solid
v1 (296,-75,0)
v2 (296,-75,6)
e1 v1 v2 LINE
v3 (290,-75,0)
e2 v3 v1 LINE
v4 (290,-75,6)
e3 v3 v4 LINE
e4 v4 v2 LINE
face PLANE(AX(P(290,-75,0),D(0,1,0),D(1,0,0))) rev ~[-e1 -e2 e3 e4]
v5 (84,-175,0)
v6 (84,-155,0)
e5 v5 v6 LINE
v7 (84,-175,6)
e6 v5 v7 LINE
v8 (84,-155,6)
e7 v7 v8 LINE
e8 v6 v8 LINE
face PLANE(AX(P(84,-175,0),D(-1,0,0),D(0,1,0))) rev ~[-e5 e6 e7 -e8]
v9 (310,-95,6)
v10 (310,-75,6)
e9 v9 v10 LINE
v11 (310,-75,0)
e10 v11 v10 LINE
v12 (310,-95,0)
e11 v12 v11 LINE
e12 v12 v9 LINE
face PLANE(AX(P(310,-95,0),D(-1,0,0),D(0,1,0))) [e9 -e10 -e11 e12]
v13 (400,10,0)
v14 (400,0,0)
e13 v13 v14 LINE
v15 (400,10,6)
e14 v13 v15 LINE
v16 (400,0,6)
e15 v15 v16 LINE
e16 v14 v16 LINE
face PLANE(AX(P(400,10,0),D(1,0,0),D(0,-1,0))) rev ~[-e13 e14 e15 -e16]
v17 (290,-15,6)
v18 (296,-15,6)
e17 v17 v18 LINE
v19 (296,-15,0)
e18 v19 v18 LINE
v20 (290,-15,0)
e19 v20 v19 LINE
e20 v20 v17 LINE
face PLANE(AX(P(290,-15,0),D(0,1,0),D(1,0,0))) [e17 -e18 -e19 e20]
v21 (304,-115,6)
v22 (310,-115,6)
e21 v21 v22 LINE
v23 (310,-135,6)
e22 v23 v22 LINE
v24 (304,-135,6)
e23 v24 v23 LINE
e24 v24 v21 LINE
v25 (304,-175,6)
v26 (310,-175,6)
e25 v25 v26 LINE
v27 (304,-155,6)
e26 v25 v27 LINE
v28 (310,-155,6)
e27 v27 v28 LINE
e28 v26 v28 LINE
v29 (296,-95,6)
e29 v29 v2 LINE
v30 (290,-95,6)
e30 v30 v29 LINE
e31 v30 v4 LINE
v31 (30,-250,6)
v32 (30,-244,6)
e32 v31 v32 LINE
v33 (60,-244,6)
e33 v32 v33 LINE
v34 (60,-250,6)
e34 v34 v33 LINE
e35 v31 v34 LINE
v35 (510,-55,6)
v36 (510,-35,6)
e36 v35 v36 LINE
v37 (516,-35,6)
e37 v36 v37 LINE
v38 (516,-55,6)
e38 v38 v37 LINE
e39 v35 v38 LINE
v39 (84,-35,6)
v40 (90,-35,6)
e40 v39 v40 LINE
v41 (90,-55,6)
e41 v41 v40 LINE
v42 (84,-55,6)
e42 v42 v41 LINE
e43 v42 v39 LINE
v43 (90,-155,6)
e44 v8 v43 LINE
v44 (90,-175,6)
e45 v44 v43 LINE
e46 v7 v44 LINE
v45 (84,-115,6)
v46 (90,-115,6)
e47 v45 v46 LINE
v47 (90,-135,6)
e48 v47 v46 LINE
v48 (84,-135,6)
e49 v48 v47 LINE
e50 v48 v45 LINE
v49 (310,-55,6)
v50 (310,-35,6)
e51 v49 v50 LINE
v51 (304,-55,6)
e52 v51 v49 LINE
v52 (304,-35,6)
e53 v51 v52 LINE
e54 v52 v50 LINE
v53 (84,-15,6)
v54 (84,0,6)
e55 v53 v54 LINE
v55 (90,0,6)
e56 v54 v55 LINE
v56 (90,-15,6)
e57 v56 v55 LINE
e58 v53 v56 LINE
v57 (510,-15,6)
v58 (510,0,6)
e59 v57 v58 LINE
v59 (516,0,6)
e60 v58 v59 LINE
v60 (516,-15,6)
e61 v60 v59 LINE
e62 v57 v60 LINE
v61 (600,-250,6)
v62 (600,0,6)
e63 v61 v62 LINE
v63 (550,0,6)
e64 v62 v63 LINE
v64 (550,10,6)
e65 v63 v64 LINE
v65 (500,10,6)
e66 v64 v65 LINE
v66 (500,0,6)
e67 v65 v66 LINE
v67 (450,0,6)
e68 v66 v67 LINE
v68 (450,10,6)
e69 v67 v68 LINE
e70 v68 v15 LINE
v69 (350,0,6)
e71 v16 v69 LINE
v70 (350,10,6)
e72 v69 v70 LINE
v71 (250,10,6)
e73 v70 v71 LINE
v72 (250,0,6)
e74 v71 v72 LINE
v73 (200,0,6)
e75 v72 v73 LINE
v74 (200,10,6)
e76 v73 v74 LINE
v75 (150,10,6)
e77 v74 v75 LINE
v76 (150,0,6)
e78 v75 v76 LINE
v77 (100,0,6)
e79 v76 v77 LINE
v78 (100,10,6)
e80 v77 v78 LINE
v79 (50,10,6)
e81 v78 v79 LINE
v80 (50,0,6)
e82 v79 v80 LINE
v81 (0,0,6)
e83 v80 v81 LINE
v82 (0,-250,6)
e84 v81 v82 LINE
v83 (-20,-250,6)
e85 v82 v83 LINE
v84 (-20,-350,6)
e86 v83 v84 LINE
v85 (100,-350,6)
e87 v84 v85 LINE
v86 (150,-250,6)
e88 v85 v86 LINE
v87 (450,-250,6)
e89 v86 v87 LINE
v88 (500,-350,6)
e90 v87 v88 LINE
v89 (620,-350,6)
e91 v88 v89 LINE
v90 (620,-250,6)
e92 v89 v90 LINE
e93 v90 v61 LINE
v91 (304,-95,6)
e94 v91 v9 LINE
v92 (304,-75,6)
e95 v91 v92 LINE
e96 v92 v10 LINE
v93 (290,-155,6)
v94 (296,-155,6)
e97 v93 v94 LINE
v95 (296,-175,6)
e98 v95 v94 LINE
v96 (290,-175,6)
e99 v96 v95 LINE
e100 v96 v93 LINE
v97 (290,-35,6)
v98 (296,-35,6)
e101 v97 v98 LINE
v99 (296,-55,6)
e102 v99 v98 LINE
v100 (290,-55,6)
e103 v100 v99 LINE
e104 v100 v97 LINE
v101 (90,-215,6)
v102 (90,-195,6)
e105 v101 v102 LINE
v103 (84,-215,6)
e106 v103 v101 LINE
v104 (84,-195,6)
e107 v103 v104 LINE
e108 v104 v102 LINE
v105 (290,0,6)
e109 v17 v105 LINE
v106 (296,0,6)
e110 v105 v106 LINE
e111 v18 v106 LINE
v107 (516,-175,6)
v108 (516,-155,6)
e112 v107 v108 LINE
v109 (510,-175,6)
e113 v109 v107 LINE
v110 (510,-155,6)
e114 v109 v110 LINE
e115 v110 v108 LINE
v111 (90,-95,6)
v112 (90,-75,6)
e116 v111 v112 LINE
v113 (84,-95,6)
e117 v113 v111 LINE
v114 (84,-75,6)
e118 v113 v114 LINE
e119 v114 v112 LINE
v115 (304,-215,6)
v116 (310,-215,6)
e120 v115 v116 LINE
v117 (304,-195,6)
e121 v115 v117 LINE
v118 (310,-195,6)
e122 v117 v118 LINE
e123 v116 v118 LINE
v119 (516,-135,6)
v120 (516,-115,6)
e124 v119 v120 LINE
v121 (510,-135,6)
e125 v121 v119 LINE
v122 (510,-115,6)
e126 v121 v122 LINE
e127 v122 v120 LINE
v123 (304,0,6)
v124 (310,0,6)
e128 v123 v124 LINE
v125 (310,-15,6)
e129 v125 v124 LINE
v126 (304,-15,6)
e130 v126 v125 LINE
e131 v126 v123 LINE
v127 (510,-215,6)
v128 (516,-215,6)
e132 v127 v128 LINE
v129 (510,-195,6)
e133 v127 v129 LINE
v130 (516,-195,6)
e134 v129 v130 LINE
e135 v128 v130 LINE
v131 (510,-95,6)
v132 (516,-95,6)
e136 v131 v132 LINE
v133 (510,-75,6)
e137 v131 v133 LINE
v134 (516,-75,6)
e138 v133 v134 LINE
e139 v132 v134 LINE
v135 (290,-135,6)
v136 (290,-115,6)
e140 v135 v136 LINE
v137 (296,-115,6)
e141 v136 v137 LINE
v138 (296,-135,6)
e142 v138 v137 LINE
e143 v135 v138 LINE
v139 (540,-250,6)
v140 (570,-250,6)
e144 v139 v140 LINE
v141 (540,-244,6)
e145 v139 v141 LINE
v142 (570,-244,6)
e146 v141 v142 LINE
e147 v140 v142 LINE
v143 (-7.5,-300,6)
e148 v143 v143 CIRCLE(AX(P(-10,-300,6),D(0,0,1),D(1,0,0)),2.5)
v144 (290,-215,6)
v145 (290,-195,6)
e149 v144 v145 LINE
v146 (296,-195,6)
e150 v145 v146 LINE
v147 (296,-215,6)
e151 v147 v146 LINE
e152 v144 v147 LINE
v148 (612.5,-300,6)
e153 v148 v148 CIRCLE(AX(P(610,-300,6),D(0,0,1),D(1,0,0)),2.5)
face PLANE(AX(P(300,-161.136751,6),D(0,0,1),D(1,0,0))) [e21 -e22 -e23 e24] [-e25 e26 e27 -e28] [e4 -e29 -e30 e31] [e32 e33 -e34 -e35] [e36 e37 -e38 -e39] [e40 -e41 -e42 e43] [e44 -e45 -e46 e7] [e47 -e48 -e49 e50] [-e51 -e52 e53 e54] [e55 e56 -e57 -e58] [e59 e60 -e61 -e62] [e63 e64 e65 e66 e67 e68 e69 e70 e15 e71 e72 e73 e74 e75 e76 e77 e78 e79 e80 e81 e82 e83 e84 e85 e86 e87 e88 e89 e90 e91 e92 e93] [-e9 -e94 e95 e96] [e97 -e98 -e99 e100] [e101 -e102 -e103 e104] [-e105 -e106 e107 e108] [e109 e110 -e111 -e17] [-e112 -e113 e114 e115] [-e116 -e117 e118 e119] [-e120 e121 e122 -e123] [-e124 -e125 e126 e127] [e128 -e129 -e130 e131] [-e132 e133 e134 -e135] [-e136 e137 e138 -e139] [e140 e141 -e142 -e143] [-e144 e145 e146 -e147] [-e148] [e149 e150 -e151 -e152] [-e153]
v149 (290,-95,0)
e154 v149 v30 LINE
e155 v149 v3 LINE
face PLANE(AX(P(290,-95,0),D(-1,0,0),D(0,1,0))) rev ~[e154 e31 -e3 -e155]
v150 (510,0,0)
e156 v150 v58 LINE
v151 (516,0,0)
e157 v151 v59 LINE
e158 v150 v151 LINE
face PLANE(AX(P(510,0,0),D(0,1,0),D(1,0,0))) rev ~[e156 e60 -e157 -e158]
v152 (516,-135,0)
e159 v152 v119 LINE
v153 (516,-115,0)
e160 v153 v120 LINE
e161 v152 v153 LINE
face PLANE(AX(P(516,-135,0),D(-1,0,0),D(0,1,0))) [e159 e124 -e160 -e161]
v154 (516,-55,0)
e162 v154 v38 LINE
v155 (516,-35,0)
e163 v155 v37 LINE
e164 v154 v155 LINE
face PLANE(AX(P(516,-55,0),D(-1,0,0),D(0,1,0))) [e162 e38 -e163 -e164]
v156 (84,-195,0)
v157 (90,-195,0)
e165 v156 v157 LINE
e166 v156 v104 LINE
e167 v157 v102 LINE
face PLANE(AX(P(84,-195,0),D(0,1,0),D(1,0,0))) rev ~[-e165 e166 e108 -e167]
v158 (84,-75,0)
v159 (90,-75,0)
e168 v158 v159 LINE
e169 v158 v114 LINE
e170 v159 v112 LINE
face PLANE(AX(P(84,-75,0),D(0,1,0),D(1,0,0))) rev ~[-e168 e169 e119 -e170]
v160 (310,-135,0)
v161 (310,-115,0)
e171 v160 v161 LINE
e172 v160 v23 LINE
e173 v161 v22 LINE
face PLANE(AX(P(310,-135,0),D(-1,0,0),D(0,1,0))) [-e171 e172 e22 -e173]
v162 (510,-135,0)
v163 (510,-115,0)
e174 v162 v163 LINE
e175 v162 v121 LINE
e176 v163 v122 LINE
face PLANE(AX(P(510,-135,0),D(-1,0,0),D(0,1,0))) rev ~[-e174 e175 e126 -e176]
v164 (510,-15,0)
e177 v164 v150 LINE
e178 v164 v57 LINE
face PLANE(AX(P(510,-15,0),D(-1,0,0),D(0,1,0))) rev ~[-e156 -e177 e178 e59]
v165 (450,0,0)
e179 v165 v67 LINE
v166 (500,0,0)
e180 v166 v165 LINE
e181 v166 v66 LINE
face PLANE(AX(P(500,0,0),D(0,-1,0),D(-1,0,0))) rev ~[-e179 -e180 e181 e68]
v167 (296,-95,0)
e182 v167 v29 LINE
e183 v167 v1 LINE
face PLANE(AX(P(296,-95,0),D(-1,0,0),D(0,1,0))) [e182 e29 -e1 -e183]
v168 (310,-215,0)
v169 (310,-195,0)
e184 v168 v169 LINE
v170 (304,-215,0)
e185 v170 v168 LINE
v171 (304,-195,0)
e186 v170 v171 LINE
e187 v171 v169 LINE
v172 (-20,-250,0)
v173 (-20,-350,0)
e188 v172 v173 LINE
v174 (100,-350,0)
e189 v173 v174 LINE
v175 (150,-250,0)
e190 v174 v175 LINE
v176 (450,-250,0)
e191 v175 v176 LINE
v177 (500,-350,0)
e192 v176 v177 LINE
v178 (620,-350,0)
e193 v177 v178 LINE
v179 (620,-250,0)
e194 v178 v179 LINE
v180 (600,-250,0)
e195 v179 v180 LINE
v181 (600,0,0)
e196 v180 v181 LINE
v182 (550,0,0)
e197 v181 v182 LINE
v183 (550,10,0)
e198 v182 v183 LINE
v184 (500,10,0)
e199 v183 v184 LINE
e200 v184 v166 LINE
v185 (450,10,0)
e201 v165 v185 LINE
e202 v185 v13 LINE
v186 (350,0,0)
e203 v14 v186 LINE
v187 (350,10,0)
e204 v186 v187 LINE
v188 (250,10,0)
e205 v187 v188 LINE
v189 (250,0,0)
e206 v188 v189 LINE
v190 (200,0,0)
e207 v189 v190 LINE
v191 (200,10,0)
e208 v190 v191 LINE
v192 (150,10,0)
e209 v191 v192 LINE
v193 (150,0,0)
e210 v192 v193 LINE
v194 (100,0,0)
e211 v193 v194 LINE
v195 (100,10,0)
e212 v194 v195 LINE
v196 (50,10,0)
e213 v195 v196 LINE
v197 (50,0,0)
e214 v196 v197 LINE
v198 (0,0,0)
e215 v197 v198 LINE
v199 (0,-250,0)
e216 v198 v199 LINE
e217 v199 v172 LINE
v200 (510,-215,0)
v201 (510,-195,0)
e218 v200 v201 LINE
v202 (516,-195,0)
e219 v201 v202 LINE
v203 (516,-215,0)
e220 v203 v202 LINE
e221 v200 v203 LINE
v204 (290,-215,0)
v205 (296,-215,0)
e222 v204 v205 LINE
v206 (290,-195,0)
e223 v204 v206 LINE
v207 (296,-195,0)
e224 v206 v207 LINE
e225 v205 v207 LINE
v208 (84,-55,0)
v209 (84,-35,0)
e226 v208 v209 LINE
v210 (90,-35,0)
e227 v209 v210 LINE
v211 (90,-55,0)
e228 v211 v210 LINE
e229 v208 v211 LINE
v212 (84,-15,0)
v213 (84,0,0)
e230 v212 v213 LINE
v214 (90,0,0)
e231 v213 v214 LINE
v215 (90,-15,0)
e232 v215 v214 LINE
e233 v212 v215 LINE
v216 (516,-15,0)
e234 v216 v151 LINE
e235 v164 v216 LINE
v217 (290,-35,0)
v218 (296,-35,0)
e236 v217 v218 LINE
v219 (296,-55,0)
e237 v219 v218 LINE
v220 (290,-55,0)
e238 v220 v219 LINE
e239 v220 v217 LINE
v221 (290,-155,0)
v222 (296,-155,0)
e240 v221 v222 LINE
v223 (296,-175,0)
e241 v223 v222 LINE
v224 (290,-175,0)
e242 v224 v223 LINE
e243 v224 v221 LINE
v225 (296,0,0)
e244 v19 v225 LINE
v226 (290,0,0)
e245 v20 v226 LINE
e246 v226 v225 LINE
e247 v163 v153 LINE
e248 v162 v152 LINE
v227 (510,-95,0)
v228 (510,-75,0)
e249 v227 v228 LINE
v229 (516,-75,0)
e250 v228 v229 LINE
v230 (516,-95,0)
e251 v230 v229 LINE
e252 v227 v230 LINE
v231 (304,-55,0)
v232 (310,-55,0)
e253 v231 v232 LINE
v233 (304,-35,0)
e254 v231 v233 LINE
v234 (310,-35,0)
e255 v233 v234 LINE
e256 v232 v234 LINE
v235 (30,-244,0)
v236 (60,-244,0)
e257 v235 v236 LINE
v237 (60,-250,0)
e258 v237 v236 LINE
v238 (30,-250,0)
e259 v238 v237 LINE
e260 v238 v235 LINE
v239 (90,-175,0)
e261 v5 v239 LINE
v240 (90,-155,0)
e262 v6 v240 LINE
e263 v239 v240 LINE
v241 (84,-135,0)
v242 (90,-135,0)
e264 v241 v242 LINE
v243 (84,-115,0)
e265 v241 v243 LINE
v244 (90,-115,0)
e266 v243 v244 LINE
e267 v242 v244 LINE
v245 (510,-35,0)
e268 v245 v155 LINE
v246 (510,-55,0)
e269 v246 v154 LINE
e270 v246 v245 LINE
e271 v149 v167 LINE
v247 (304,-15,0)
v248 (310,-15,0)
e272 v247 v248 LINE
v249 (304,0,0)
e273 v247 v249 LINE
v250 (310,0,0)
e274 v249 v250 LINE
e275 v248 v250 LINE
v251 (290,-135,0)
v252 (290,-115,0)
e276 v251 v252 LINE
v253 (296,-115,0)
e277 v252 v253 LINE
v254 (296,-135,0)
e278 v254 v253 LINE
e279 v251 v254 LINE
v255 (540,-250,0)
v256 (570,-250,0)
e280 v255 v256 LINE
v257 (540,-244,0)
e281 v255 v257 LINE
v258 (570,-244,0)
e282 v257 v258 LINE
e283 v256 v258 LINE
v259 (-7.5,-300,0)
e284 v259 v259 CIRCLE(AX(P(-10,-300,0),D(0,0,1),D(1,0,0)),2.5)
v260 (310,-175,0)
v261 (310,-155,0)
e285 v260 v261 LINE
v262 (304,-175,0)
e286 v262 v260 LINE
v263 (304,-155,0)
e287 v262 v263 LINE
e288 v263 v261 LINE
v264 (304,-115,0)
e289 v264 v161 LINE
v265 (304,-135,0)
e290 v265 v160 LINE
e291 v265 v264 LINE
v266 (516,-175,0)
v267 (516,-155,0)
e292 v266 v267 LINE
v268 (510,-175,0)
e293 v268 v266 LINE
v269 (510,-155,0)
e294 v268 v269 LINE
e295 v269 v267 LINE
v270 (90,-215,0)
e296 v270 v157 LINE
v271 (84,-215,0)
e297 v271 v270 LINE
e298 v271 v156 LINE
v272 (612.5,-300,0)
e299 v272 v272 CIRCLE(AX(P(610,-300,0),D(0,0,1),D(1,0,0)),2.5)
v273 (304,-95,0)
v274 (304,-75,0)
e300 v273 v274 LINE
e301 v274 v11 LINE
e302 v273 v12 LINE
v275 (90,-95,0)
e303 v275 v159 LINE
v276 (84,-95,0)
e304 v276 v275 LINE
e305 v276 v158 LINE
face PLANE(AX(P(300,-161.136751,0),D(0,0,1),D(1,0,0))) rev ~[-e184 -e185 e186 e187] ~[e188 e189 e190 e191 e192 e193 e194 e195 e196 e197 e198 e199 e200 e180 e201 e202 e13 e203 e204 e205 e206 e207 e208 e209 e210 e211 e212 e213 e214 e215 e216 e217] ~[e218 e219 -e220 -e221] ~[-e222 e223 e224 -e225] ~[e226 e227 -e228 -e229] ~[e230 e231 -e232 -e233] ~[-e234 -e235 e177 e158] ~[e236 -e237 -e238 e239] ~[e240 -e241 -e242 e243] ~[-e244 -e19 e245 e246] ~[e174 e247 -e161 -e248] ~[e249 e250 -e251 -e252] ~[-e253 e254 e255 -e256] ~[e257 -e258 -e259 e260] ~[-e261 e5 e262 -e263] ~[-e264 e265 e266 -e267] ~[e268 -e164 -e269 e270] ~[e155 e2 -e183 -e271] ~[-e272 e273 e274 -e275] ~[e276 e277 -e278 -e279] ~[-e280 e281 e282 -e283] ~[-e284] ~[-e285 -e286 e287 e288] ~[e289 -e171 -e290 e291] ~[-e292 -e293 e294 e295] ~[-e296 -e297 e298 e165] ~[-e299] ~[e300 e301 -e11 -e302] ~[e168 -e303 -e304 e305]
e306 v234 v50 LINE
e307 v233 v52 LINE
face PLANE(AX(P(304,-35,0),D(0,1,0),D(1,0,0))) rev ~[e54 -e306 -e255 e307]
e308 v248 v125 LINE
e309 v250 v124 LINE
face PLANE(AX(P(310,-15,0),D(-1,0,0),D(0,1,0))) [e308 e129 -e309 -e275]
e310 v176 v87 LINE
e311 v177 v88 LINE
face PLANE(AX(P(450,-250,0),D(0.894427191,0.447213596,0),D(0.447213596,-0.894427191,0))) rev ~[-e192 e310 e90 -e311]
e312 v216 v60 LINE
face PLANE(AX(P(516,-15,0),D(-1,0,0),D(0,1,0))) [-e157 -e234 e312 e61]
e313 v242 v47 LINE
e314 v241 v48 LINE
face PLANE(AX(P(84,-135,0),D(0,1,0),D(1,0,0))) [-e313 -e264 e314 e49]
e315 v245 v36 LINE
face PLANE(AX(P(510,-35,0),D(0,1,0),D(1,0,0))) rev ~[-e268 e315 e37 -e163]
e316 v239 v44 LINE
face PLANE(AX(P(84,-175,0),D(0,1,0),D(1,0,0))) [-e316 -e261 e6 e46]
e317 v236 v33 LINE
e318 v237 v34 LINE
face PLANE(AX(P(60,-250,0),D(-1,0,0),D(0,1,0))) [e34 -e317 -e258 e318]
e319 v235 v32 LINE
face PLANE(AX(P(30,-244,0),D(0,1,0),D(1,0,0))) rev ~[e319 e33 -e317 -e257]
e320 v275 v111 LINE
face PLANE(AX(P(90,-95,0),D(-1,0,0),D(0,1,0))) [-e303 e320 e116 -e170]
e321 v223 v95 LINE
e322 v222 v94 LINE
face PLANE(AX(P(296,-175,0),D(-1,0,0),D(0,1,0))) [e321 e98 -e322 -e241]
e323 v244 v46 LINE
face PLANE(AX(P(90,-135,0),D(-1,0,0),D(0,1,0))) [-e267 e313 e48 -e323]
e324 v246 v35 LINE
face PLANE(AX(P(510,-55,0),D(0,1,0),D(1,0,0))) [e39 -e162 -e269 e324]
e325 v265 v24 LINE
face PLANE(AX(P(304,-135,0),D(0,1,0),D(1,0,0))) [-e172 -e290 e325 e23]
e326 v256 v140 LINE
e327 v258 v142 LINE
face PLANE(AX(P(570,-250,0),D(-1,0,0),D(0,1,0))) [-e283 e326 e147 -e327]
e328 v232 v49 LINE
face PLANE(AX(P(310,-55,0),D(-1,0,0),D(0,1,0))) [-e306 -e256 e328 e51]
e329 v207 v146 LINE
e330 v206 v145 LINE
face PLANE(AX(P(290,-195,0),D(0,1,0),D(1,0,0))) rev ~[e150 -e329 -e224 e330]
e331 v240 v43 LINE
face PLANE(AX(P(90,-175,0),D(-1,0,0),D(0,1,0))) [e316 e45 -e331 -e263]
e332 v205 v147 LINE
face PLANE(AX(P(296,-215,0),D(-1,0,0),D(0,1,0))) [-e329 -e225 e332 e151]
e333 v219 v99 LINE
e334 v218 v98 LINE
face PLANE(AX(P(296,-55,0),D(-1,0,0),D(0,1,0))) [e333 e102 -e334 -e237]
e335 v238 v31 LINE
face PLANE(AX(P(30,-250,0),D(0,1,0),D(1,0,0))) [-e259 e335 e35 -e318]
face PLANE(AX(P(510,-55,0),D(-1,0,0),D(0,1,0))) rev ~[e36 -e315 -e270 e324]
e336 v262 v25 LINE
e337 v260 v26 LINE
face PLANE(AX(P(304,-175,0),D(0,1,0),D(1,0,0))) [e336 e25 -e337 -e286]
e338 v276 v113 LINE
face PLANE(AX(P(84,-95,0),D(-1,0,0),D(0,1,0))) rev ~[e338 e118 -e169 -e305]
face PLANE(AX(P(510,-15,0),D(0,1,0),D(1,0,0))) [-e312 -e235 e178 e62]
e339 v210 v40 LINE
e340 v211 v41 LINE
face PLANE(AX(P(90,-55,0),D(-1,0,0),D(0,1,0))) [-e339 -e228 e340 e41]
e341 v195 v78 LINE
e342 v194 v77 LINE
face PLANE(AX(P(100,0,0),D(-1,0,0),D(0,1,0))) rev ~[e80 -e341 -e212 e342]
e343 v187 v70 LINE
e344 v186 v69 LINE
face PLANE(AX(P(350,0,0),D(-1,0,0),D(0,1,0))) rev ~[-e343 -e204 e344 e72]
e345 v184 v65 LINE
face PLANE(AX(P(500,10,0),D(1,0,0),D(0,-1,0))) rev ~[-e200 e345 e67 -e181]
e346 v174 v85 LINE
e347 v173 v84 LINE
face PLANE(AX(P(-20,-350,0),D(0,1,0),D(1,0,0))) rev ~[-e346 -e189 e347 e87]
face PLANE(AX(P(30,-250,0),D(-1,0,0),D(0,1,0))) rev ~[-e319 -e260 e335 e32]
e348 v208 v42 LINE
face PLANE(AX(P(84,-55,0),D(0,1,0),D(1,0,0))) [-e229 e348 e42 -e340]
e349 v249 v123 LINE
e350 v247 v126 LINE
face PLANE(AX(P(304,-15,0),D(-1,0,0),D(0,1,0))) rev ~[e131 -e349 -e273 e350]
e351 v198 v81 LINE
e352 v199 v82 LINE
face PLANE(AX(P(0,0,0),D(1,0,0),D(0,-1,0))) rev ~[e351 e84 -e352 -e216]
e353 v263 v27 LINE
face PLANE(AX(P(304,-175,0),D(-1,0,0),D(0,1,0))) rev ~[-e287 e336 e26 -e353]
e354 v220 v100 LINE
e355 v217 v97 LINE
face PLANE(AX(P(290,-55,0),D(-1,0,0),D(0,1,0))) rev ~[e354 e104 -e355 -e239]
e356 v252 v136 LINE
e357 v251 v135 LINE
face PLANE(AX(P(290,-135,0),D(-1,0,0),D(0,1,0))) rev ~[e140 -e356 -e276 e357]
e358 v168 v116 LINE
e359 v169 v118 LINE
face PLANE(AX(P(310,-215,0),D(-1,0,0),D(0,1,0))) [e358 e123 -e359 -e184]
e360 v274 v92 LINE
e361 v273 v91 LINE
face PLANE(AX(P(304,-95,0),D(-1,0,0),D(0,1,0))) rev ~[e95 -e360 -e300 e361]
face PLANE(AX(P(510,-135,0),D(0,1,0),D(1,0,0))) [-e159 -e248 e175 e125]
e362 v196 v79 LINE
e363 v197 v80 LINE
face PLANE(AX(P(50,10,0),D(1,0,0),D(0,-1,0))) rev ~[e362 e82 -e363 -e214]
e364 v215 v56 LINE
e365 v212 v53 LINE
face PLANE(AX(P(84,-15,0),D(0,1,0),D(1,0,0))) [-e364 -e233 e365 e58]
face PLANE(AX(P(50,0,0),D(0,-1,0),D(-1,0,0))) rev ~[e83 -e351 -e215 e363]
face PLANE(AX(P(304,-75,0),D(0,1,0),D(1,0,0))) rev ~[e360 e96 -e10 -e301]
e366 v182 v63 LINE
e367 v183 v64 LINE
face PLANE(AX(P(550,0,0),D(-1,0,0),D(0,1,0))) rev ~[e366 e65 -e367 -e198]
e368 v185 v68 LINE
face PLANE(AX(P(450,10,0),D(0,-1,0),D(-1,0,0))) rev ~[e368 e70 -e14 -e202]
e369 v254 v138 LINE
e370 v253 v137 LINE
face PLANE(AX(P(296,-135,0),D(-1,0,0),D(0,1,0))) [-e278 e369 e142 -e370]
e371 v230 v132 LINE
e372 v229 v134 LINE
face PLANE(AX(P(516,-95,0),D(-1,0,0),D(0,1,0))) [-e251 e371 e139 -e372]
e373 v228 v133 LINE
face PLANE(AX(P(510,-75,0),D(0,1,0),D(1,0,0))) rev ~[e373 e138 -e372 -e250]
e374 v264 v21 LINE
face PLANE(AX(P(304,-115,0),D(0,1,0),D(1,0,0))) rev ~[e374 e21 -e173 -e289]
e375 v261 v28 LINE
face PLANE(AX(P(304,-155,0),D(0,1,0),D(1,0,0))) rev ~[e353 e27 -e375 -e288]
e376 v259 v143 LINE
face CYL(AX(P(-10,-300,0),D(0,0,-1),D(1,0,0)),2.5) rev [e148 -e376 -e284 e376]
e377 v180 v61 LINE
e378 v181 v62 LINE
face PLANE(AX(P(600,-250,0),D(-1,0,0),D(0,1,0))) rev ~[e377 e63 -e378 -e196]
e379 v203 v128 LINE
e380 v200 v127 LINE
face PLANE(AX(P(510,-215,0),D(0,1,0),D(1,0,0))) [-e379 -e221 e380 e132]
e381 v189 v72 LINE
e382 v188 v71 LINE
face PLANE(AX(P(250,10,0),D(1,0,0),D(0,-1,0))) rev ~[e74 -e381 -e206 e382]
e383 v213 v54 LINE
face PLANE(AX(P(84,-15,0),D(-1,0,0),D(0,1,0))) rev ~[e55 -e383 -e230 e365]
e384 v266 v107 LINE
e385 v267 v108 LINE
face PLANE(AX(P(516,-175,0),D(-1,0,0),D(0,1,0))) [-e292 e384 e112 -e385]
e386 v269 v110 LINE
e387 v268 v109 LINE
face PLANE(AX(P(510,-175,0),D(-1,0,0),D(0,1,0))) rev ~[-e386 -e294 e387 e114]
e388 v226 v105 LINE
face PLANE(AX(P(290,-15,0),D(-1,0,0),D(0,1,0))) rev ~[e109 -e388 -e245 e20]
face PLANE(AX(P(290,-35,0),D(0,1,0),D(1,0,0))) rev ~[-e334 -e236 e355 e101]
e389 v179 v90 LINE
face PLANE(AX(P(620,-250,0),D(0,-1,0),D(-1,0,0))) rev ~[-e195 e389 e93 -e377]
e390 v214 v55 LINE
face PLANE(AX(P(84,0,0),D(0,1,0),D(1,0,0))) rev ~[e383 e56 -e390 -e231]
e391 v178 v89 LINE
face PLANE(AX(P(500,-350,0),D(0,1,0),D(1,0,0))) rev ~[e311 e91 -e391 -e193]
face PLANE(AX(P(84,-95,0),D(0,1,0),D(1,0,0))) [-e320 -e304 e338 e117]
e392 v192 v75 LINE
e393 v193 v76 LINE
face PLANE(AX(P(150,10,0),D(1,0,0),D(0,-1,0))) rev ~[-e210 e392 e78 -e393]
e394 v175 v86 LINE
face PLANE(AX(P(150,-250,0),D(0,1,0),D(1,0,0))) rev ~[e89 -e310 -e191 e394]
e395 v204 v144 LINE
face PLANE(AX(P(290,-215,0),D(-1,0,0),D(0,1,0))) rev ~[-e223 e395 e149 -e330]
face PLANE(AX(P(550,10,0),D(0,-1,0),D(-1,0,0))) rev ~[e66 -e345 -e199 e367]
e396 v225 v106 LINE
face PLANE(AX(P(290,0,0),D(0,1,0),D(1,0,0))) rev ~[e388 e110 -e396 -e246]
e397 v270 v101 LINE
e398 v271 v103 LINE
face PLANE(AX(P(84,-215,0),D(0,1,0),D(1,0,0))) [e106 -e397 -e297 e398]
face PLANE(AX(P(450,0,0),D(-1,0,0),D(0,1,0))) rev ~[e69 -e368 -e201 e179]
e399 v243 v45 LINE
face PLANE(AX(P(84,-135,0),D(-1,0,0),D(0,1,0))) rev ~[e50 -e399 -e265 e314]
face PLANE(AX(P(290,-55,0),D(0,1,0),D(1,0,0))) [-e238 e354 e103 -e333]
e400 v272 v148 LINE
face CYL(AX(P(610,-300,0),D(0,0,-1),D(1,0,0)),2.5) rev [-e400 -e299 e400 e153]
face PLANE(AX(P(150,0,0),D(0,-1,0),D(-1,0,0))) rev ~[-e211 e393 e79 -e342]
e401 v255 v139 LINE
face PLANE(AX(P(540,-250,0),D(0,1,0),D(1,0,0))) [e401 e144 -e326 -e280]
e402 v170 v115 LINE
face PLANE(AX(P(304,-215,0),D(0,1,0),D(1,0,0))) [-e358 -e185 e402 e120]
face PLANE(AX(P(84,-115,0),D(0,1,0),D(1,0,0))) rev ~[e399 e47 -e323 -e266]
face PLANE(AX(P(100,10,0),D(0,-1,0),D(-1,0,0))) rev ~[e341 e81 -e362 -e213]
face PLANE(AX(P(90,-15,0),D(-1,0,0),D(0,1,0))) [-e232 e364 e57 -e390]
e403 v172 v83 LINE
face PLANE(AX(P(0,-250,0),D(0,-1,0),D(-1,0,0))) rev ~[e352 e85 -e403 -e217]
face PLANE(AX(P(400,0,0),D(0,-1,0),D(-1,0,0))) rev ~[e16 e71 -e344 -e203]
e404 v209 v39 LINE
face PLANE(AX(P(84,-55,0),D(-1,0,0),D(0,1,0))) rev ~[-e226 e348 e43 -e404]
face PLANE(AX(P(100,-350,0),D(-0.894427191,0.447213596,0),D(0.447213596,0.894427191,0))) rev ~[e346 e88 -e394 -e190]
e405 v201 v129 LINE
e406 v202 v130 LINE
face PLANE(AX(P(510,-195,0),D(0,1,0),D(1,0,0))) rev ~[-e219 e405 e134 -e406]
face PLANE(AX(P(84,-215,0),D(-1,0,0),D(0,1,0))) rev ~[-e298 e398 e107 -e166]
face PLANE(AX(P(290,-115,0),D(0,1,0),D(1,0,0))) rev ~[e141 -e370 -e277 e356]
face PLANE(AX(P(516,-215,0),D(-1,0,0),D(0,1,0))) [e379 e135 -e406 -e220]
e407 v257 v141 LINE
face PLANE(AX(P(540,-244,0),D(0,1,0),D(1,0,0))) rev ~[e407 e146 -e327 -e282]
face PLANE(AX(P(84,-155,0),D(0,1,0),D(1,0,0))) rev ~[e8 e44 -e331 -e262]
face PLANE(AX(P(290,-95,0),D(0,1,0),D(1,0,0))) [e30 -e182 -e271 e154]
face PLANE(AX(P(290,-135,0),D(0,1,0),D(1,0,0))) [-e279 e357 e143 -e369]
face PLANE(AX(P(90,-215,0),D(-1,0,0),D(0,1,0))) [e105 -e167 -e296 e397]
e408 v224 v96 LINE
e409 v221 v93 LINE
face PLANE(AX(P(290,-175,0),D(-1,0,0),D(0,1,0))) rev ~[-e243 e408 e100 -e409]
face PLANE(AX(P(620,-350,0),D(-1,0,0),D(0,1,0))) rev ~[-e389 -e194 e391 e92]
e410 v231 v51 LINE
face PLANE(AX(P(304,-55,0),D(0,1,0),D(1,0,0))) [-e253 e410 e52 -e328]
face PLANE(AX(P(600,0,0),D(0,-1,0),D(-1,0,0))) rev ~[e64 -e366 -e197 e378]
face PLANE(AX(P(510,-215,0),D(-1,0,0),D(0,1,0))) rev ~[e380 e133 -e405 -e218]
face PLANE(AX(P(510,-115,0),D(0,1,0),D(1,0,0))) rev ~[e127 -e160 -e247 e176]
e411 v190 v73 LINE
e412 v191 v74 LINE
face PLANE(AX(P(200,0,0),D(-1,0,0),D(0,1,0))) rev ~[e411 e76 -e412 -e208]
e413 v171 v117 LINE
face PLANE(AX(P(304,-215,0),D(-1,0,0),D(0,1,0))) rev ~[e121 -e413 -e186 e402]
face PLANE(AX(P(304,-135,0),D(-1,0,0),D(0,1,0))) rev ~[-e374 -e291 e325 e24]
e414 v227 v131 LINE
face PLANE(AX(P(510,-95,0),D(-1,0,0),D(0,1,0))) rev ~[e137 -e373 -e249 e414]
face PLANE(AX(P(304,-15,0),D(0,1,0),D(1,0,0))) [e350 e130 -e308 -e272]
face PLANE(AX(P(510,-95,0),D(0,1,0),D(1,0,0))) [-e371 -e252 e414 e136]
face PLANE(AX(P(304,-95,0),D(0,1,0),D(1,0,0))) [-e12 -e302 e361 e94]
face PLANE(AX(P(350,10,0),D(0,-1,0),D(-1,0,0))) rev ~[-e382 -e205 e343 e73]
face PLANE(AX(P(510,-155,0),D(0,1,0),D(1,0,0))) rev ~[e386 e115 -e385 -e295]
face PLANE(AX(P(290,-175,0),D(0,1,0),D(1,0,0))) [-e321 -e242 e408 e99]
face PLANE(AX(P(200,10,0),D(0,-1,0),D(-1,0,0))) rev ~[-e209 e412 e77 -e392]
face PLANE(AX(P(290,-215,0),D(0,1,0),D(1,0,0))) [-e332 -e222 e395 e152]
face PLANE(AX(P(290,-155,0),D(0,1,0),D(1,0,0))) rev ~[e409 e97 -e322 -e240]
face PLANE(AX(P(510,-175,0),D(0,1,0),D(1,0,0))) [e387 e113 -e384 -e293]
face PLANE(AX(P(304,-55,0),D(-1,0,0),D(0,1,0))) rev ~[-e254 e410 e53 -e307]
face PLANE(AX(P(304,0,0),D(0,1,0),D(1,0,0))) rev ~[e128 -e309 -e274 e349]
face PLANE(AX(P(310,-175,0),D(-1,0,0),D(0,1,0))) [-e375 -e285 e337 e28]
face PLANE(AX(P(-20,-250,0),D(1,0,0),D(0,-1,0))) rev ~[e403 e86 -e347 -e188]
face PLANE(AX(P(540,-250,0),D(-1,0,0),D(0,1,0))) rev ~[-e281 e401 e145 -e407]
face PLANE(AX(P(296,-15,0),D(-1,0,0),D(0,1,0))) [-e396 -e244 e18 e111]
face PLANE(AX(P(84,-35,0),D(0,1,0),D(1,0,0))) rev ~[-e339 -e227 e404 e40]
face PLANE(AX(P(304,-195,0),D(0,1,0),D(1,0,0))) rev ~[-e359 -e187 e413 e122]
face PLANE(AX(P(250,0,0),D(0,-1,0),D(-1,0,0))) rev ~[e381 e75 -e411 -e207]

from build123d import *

# Parameters (mm, degrees)
SKETCH_1_W      = 6
SKETCH_1_H      = 15
SKETCH_1_R      = 2.5
SKETCH_1_W_2    = 30
SKETCH_1_H_2    = 6
SKETCH_1_H_3    = 20
EXTRUDE_1_DEPTH = 6


with BuildPart() as part:
    # 草图1 → 凸台-拉伸1 (new body)
    with BuildSketch(Plane.XY):
        Polygon((50, 0), (0, 0), (0, -250), (-20, -250), (-20, -350), (100, -350), (150, -250), (450, -250), (500, -350), (620, -350), (620, -250), (600, -250), (600, 0), (550, 0), (550, 10), (500, 10), (500, 0), (450, 0), (450, 10), (400, 10), (400, 0), (350, 0), (350, 10), (300, 10), (250, 10), (250, 0), (200, 0), (200, 10), (150, 10), (150, 0), (100, 0), (100, 10), (50, 10), align=None)
        with Locations((513, -7.5)):
            Rectangle(SKETCH_1_W, SKETCH_1_H, mode=Mode.SUBTRACT)
        with Locations((-10, -300)):
            Circle(SKETCH_1_R, mode=Mode.SUBTRACT)
        with Locations((45, -247)):
            Rectangle(SKETCH_1_W_2, SKETCH_1_H_2, mode=Mode.SUBTRACT)
        with Locations((87, -205)):
            Rectangle(SKETCH_1_W, SKETCH_1_H_3, mode=Mode.SUBTRACT)
        with Locations((87, -165)):
            Rectangle(SKETCH_1_W, SKETCH_1_H_3, mode=Mode.SUBTRACT)
        with Locations((293, -205)):
            Rectangle(SKETCH_1_W, SKETCH_1_H_3, mode=Mode.SUBTRACT)
        with Locations((293, -165)):
            Rectangle(SKETCH_1_W, SKETCH_1_H_3, mode=Mode.SUBTRACT)
        with Locations((610, -300)):
            Circle(SKETCH_1_R, mode=Mode.SUBTRACT)
        with Locations((555, -247)):
            Rectangle(SKETCH_1_W_2, SKETCH_1_H_2, mode=Mode.SUBTRACT)
        with Locations((307, -205)):
            Rectangle(SKETCH_1_W, SKETCH_1_H_3, mode=Mode.SUBTRACT)
        with Locations((307, -165)):
            Rectangle(SKETCH_1_W, SKETCH_1_H_3, mode=Mode.SUBTRACT)
        with Locations((513, -205)):
            Rectangle(SKETCH_1_W, SKETCH_1_H_3, mode=Mode.SUBTRACT)
        with Locations((513, -165)):
            Rectangle(SKETCH_1_W, SKETCH_1_H_3, mode=Mode.SUBTRACT)
        with Locations((87, -125)):
            Rectangle(SKETCH_1_W, SKETCH_1_H_3, mode=Mode.SUBTRACT)
        with Locations((87, -85)):
            Rectangle(SKETCH_1_W, SKETCH_1_H_3, mode=Mode.SUBTRACT)
        with Locations((293, -125)):
            Rectangle(SKETCH_1_W, SKETCH_1_H_3, mode=Mode.SUBTRACT)
        with Locations((293, -85)):
            Rectangle(SKETCH_1_W, SKETCH_1_H_3, mode=Mode.SUBTRACT)
        with Locations((87, -45)):
            Rectangle(SKETCH_1_W, SKETCH_1_H_3, mode=Mode.SUBTRACT)
        with Locations((87, -7.5)):
            Rectangle(SKETCH_1_W, SKETCH_1_H, mode=Mode.SUBTRACT)
        with Locations((293, -45)):
            Rectangle(SKETCH_1_W, SKETCH_1_H_3, mode=Mode.SUBTRACT)
        with Locations((293, -7.5)):
            Rectangle(SKETCH_1_W, SKETCH_1_H, mode=Mode.SUBTRACT)
        with Locations((307, -125)):
            Rectangle(SKETCH_1_W, SKETCH_1_H_3, mode=Mode.SUBTRACT)
        with Locations((307, -85)):
            Rectangle(SKETCH_1_W, SKETCH_1_H_3, mode=Mode.SUBTRACT)
        with Locations((513, -125)):
            Rectangle(SKETCH_1_W, SKETCH_1_H_3, mode=Mode.SUBTRACT)
        with Locations((513, -85)):
            Rectangle(SKETCH_1_W, SKETCH_1_H_3, mode=Mode.SUBTRACT)
        with Locations((307, -45)):
            Rectangle(SKETCH_1_W, SKETCH_1_H_3, mode=Mode.SUBTRACT)
        with Locations((307, -7.5)):
            Rectangle(SKETCH_1_W, SKETCH_1_H, mode=Mode.SUBTRACT)
        with Locations((513, -45)):
            Rectangle(SKETCH_1_W, SKETCH_1_H_3, mode=Mode.SUBTRACT)
    extrude(amount=EXTRUDE_1_DEPTH)


solid = part.part
